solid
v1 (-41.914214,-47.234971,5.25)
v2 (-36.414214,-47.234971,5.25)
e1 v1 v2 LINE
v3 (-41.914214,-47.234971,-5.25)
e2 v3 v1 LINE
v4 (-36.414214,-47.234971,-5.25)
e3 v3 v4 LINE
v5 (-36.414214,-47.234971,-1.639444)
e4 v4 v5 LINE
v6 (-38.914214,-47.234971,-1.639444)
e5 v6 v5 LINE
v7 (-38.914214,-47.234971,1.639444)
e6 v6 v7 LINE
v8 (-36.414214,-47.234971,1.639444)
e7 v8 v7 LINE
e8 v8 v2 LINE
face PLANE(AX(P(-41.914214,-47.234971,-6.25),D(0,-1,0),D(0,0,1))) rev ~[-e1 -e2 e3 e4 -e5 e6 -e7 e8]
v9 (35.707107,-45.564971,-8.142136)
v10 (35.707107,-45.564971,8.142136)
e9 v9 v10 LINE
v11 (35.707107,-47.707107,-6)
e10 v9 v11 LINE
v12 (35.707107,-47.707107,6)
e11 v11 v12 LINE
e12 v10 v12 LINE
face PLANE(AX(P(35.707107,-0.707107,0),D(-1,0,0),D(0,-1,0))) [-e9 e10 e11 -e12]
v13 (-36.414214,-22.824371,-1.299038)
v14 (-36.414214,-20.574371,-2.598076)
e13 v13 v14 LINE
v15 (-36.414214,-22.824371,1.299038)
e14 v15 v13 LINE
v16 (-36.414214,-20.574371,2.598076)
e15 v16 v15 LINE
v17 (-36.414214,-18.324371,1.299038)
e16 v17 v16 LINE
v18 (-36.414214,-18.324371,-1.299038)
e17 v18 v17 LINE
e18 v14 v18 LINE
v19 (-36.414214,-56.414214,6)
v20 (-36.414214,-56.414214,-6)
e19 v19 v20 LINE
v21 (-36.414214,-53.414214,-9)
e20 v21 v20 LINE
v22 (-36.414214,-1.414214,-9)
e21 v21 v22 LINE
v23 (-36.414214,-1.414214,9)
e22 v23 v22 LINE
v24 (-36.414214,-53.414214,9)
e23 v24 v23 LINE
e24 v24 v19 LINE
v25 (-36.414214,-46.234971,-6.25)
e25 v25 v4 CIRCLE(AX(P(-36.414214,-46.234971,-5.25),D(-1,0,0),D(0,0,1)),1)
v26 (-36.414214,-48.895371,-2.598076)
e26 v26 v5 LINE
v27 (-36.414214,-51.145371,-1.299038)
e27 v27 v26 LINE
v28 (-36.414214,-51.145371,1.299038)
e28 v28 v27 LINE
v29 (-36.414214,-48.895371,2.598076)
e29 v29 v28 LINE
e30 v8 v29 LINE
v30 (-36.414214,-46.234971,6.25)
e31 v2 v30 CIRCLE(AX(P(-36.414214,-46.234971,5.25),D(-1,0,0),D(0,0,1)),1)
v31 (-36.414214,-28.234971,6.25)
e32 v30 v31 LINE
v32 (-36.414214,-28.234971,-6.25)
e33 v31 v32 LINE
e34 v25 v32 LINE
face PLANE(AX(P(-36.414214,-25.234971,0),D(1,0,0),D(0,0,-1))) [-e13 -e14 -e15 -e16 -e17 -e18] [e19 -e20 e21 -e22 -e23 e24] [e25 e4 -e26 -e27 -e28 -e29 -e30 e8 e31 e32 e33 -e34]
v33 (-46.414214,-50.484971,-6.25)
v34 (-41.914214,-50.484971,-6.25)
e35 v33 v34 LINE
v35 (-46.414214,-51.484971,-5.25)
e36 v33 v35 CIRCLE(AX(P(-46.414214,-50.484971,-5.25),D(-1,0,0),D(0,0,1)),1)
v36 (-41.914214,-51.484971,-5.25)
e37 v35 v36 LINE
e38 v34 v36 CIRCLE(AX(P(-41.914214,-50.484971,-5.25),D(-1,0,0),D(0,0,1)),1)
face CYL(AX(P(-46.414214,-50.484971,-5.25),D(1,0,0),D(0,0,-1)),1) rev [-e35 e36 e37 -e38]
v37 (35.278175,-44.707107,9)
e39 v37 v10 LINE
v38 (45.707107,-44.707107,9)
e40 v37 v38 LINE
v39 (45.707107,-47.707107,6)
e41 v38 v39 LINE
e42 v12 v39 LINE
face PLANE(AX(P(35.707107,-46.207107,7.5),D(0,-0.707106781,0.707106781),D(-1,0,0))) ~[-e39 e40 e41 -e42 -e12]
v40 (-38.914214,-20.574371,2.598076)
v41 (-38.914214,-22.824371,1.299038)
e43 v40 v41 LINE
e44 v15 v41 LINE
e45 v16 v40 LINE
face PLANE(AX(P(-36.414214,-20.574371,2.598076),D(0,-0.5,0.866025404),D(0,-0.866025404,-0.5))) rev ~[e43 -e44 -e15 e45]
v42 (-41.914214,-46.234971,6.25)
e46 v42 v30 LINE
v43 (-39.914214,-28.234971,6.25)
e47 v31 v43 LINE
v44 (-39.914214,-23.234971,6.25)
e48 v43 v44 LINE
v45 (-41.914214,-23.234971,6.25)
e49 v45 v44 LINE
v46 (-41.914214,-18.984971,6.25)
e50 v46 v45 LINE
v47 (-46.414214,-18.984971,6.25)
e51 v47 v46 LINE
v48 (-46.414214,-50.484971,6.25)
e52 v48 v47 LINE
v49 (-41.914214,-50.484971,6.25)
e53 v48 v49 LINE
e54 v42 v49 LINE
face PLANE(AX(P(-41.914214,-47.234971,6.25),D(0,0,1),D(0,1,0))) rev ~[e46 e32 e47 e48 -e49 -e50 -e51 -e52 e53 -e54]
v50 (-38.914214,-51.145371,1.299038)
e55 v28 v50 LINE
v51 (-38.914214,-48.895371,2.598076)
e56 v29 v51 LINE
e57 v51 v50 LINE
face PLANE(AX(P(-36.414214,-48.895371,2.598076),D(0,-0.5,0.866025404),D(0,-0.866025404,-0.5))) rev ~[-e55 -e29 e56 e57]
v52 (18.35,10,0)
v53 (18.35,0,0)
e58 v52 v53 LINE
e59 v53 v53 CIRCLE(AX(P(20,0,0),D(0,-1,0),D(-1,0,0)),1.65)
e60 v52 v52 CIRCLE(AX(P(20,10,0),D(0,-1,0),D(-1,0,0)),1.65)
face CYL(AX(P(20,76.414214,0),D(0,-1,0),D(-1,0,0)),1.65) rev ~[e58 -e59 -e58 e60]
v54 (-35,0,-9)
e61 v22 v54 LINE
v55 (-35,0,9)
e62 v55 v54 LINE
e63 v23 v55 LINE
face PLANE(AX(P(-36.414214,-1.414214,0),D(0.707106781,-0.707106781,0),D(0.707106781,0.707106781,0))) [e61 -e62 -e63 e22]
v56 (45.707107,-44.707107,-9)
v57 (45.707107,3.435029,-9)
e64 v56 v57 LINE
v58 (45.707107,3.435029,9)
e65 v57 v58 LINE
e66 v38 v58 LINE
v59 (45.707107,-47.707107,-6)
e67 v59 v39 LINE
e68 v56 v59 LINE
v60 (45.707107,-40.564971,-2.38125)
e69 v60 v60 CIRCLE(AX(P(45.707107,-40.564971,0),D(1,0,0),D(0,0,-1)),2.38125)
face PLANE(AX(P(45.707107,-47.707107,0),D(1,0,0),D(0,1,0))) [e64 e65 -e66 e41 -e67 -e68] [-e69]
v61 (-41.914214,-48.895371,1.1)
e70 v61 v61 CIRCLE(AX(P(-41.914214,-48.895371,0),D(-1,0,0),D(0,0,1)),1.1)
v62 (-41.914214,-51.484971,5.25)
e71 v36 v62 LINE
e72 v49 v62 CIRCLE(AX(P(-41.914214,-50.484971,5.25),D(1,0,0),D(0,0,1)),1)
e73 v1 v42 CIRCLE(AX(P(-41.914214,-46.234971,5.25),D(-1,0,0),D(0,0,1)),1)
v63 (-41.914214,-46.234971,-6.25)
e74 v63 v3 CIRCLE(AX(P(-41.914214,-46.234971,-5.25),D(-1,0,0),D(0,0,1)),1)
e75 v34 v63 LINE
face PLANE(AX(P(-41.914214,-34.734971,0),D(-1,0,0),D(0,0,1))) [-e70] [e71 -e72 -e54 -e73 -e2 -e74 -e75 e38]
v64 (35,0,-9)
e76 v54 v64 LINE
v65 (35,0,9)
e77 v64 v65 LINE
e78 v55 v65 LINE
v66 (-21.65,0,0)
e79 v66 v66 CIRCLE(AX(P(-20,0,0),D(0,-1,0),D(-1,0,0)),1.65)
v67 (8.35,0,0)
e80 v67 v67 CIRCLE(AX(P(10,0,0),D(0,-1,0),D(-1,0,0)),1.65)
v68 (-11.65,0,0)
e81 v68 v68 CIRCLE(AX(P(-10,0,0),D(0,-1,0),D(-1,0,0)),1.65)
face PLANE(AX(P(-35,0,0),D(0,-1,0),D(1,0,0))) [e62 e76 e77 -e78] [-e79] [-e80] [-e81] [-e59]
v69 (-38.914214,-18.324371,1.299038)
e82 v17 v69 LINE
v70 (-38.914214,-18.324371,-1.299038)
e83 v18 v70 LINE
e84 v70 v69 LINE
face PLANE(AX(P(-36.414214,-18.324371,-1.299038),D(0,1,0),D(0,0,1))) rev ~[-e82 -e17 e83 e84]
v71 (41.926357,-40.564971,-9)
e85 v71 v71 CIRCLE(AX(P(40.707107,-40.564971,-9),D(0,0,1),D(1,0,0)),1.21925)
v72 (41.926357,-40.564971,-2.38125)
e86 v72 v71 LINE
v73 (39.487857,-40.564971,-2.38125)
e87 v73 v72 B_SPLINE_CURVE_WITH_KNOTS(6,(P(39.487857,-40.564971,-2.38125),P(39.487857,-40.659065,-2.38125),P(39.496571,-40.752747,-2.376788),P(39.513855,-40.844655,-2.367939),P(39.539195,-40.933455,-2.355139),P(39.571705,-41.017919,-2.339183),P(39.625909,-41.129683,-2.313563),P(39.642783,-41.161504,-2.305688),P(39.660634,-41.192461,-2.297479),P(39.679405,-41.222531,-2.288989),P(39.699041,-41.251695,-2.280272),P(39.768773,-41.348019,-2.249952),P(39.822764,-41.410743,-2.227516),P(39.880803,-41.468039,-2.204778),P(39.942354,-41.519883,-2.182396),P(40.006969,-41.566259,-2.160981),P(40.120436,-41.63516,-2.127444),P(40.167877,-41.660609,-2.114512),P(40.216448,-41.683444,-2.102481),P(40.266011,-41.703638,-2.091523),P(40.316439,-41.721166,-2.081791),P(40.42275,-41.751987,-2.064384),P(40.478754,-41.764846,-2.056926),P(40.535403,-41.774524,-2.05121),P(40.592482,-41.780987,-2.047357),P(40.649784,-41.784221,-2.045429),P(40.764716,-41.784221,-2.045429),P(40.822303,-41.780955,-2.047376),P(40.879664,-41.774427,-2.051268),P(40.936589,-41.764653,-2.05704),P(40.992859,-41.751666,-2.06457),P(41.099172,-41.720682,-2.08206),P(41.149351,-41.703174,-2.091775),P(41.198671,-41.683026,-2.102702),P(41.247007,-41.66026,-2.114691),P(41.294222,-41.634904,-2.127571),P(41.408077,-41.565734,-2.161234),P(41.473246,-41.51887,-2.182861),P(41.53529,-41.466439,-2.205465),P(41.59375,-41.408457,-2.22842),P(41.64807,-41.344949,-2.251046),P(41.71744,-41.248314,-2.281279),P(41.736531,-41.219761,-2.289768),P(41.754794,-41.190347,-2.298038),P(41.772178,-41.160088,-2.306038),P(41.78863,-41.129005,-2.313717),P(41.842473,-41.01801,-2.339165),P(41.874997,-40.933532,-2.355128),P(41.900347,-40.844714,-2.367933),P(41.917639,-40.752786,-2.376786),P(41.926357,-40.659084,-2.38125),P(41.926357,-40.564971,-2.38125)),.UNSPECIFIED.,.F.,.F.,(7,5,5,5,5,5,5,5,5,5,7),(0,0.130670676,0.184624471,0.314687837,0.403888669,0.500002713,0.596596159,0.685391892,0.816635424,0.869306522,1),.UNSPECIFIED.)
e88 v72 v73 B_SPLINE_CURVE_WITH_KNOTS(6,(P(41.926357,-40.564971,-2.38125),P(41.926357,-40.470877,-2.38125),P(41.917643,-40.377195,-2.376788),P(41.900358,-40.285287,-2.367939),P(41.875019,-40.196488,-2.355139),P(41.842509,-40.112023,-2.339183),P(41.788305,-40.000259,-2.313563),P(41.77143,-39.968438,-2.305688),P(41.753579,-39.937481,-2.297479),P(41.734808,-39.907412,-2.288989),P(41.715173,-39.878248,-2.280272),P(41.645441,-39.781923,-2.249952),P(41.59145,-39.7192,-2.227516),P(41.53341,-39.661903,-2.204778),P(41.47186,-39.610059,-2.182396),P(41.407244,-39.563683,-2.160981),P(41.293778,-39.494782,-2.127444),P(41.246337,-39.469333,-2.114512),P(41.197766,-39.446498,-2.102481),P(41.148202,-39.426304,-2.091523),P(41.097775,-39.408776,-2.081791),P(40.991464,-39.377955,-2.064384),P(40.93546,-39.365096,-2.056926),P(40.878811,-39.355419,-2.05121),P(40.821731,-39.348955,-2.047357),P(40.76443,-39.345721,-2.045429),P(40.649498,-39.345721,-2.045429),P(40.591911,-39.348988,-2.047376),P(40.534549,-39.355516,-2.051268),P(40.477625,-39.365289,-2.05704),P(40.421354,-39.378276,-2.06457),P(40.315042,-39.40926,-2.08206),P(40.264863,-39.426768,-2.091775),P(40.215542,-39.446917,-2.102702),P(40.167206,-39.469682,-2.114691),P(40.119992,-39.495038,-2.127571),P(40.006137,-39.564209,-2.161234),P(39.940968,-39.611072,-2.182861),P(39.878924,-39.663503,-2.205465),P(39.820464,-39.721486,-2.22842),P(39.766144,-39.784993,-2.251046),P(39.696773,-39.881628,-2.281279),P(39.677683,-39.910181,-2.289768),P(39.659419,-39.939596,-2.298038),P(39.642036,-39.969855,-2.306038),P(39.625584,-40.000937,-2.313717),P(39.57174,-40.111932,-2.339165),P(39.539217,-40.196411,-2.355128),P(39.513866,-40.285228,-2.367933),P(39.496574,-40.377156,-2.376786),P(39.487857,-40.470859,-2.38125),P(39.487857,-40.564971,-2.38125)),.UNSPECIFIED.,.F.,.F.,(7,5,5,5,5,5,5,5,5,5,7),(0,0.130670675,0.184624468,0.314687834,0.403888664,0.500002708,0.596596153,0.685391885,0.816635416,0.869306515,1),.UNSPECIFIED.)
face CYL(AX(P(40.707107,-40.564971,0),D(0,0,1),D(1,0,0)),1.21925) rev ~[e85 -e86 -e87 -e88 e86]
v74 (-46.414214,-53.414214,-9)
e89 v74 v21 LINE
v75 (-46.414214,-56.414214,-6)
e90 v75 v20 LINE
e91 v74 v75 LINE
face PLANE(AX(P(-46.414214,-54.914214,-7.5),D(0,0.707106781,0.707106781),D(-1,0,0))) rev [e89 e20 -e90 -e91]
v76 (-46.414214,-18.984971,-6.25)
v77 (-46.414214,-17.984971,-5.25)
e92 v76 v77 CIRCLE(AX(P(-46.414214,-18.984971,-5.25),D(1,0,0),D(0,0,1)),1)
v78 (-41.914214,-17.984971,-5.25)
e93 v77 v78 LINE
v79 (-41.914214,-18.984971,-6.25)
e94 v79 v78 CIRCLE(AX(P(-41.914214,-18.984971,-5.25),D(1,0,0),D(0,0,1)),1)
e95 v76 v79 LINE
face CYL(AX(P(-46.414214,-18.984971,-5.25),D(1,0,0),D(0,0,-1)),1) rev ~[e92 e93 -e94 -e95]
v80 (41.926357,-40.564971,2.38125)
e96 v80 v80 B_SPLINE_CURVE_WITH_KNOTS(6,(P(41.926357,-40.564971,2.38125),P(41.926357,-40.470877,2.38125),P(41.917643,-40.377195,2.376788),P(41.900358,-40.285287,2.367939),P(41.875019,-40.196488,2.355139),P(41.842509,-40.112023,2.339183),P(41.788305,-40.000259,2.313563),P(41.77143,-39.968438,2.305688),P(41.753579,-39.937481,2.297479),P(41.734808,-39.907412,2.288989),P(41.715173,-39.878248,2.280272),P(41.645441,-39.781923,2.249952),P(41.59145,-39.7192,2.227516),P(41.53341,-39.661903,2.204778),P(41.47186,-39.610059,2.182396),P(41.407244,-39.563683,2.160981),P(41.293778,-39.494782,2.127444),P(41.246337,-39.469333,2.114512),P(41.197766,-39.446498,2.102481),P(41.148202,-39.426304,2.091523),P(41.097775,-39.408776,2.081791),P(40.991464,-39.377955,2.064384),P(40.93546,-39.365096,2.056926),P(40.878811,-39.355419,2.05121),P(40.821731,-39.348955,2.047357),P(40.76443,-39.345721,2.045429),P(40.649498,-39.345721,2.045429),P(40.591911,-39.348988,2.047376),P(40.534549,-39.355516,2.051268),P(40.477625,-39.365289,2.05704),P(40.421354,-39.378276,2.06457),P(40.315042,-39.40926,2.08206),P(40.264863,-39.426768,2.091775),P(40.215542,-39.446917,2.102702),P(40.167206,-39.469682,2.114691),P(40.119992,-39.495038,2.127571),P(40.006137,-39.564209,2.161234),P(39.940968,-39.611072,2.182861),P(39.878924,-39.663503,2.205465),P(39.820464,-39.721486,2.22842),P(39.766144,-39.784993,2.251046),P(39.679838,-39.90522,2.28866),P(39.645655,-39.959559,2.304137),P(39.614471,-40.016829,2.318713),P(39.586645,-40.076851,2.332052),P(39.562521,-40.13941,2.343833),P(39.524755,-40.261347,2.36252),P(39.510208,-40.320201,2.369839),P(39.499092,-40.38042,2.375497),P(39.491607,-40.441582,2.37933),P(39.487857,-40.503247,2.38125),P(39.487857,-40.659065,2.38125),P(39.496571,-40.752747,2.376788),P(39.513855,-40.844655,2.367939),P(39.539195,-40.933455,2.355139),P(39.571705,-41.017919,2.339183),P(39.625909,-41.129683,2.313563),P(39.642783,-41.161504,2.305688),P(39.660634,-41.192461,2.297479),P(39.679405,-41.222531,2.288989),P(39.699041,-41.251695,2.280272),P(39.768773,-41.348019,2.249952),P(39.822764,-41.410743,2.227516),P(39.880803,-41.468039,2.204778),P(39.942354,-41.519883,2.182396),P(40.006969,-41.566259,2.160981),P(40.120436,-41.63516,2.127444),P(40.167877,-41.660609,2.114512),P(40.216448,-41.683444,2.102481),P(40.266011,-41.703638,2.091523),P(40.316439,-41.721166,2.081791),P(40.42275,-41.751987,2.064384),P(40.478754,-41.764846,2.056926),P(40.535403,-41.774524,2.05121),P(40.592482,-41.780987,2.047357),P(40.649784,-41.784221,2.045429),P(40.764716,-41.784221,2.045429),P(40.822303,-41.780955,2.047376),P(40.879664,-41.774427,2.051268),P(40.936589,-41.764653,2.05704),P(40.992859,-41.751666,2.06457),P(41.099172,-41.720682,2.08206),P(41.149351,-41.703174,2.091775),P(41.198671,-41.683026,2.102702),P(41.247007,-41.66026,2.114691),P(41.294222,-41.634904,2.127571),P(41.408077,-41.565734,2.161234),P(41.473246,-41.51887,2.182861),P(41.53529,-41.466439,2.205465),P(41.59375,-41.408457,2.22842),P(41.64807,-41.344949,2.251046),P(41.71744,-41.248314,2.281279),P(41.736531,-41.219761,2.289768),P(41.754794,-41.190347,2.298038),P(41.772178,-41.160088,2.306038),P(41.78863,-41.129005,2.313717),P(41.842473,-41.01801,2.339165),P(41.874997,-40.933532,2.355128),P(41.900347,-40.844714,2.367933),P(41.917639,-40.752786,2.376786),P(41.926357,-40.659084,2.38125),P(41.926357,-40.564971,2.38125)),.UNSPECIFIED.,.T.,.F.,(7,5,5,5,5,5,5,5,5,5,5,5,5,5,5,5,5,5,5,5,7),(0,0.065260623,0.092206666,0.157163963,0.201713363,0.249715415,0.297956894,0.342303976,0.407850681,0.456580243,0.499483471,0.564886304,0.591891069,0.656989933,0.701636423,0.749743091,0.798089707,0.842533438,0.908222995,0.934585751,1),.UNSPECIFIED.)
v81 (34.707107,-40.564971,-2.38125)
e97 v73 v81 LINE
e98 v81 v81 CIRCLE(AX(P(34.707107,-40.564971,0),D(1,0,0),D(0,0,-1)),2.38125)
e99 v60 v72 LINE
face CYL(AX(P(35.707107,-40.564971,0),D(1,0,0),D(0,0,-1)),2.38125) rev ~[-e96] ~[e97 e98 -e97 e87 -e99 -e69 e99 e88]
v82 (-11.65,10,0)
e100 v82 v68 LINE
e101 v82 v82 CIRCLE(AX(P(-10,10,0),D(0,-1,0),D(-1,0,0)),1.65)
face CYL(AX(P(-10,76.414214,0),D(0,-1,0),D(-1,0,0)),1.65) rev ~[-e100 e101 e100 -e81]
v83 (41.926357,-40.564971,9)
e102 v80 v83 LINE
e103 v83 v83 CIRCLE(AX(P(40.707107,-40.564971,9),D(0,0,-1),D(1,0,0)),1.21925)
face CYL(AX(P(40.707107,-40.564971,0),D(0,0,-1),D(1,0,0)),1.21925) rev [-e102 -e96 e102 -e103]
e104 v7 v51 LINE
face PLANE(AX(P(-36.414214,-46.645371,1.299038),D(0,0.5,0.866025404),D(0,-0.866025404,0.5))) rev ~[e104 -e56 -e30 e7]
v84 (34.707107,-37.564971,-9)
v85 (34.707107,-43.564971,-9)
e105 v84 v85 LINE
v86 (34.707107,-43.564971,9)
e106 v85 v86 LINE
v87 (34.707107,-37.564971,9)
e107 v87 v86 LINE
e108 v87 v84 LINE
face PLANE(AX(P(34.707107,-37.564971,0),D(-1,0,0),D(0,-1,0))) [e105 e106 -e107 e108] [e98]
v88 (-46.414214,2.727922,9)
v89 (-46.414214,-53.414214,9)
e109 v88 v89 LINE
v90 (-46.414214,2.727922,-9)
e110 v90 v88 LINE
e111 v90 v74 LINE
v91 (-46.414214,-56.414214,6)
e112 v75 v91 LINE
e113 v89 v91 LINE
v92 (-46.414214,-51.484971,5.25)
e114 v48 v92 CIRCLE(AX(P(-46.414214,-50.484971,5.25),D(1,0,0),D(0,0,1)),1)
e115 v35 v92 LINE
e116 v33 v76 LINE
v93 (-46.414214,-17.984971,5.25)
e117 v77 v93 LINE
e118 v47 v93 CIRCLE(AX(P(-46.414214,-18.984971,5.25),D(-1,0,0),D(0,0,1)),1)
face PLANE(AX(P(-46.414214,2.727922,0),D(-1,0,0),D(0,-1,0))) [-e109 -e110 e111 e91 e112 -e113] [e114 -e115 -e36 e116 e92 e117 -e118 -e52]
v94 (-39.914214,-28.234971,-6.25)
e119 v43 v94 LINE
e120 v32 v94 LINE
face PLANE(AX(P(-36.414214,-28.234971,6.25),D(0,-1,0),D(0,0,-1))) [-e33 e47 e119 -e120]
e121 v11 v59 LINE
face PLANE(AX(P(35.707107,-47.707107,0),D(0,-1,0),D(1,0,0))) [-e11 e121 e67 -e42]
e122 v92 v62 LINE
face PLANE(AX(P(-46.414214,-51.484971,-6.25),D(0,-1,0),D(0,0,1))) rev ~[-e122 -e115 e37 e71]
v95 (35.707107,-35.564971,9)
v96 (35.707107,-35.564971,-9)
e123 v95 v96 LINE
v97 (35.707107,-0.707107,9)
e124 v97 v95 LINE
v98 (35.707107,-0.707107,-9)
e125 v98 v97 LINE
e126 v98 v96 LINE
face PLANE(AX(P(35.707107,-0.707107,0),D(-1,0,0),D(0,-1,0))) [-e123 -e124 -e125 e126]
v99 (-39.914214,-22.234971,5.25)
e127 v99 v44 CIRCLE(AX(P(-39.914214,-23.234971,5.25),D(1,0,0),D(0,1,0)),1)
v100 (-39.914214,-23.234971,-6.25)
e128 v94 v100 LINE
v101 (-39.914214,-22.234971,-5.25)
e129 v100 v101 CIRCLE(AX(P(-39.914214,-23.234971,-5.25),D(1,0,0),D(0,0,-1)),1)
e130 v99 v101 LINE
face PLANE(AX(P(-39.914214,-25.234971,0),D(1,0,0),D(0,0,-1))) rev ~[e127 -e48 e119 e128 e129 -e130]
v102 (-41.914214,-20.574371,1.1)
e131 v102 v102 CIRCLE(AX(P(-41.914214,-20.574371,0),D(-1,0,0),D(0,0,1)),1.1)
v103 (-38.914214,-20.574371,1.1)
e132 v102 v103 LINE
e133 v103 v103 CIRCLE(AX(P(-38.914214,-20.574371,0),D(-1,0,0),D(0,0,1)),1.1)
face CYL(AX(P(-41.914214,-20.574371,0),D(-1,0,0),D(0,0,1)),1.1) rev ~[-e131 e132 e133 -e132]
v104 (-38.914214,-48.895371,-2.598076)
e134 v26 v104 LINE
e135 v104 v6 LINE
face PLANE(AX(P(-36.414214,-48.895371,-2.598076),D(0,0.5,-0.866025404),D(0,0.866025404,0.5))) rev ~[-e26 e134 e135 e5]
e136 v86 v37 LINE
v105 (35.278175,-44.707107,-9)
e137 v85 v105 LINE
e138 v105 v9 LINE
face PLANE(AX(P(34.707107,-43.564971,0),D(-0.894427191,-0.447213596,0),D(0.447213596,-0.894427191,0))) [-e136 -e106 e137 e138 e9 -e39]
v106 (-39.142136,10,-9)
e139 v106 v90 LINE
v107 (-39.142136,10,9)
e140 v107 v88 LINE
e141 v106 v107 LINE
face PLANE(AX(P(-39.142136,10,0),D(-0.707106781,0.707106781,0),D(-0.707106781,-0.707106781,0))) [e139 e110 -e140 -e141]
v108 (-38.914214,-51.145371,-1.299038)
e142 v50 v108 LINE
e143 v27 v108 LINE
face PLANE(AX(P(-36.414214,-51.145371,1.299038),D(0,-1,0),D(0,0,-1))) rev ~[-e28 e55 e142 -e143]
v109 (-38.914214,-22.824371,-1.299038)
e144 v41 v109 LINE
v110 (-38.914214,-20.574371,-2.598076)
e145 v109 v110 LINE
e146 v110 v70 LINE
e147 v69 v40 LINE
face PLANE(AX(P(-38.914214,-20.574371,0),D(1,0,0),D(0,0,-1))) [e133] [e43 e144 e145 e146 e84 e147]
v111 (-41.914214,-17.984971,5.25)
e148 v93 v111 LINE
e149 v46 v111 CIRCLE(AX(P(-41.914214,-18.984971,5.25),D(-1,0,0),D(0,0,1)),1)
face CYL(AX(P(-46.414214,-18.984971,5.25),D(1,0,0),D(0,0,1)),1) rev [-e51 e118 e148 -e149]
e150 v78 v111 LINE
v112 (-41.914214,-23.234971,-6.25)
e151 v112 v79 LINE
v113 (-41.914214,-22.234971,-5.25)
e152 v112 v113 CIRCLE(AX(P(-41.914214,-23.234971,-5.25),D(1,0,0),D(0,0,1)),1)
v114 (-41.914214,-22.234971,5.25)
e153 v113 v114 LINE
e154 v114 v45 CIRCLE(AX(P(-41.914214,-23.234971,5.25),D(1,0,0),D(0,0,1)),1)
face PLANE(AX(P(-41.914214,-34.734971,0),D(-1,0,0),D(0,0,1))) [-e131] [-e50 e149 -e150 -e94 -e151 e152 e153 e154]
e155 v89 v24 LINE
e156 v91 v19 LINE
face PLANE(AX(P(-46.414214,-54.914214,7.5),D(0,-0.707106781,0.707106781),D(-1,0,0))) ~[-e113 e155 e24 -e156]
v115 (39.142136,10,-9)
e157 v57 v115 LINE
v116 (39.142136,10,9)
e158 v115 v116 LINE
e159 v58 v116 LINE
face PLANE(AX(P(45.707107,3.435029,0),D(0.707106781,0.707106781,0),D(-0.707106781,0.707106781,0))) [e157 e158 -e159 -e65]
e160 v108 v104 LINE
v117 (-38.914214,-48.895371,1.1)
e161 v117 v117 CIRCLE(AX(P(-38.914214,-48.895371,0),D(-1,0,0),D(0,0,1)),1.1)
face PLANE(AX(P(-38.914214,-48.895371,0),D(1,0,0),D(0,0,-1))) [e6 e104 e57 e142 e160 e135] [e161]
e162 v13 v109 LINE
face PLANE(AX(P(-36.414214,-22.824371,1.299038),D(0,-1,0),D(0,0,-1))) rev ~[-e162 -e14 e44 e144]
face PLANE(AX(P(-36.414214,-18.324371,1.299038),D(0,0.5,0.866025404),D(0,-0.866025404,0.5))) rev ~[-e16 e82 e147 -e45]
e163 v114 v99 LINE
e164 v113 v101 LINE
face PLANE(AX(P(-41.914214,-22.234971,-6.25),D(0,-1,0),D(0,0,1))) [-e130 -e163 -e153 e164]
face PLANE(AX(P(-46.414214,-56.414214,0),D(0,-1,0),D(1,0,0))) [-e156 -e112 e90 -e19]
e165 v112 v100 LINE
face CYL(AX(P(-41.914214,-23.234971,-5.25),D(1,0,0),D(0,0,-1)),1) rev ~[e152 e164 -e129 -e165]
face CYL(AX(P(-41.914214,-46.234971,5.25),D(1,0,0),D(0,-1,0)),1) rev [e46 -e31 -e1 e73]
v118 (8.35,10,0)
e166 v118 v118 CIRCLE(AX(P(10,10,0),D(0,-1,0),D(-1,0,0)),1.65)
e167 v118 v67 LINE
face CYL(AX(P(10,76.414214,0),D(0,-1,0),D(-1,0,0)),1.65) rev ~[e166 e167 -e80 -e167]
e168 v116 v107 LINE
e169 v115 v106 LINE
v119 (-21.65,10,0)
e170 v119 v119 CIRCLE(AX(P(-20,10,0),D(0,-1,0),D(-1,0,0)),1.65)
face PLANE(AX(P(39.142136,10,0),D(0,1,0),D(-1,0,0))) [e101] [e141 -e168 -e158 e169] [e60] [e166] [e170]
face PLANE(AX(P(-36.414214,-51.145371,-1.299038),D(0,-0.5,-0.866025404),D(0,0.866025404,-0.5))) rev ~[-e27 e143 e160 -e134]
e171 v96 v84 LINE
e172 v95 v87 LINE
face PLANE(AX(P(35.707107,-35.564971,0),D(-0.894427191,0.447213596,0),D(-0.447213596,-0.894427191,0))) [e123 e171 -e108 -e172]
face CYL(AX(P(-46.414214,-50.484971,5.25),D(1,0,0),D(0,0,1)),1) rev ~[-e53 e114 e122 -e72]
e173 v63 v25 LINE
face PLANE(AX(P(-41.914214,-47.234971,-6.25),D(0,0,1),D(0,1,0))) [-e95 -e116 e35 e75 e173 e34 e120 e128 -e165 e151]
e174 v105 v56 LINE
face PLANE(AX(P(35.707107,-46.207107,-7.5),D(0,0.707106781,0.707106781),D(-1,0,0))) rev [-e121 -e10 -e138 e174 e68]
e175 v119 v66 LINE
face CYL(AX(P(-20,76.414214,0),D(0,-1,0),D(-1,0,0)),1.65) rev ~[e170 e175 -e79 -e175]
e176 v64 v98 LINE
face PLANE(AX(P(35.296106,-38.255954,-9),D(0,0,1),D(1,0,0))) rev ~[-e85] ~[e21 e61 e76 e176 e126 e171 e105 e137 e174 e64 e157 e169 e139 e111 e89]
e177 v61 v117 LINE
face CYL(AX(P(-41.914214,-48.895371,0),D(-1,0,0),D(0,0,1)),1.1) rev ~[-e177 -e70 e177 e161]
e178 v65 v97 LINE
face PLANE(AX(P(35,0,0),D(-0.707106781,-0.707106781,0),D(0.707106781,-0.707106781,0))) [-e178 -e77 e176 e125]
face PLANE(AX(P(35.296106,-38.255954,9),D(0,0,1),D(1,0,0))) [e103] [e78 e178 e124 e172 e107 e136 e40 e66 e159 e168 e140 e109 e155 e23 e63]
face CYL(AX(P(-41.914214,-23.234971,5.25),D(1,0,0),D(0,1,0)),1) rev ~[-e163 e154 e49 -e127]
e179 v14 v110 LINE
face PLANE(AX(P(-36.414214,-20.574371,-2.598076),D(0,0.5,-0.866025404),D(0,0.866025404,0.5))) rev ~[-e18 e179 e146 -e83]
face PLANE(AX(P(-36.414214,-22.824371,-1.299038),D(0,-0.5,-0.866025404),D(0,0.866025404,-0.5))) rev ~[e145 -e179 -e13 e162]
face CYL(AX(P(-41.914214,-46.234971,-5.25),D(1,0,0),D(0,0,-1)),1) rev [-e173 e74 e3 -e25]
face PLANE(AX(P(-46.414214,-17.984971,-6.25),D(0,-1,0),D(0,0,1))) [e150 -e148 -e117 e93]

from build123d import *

# Parameters (mm, degrees)
BOSS_EXTRUDE1_DEPTH             = 9
SKETCH2_R                       = 0.5
CUT_EXTRUDE1_DEPTH              = 67.414213562
SKETCH9_R                       = 2.38125
PIN_HOLE_DEPTH                  = 93.121320344
SKETCH20_R                      = 1.21925
SPRING_PIN_DEPTH                = 10
SPRING_PIN_DEPTH_BACK           = 10
SKETCH32_W                      = 12.5
SKETCH32_H                      = 33.5
CUT_EXTRUDE11_DEPTH             = 4.5
CUT_EXTRUDE12_REACH             = 89.621
SKETCH33_W                      = 12.5
SKETCH33_H                      = 25
CUT_EXTRUDE13_REACH             = 89.621
SKETCH34_R                      = 1.1
FILLET1_R                       = 1
TAP_DRILL_FOR_M4X0_7_TAP1_D     = 3.3
TAP_DRILL_FOR_M4X0_7_TAP1_DEPTH = 66.414213562
SKETCH41_W                      = 12.5
SKETCH41_H                      = 6
BOSS_EXTRUDE4_DEPTH             = 3.5
CUT_EXTRUDE14_DEPTH             = 2.5
BOSS_EXTRUDE6_DEPTH             = 9
CHAMFER1_SIZE                   = 3
CUT_EXTRUDE15_REACH             = 84.121
SKETCH45_R                      = 2.38125


with BuildPart() as part:
    # Sketch1 → Boss-Extrude1 (new body, symmetric)
    with BuildSketch(Plane.XY):
        Polygon((-35, 0), (35, 0), (35.707106781, -0.707106781), (35.707106781, -47.707106781), (45.707106781, -47.707106781), (45.707106781, 3.435028843), (39.142135624, 10), (-39.142135624, 10), (-46.414213562, 2.727922061), (-46.414213562, -56.414213562), (-36.414213562, -56.414213562), (-36.414213562, -1.414213562), align=None)
    extrude(amount=BOSS_EXTRUDE1_DEPTH, both=True)

    # Sketch2 → Cut-Extrude1 (cut, through all)
    with BuildSketch(Plane(origin=(0, 10, 0), x_dir=(1, 0, 0), z_dir=(0, 1, 0))):
        with Locations((-10, 0)):
            Circle(SKETCH2_R)
        with Locations((10, 0)):
            Circle(SKETCH2_R)
        with Locations((-20, 0)):
            Circle(SKETCH2_R)
        with Locations((20, 0)):
            Circle(SKETCH2_R)
    extrude(amount=-CUT_EXTRUDE1_DEPTH, mode=Mode.SUBTRACT)

    # Sketch9 → Pin Hole (cut, through all)
    with BuildSketch(Plane(origin=(45.707106781, 0, 0), x_dir=(0, 0, -1), z_dir=(1, 0, 0))):
        with Locations((0, -40.564971157)):
            Circle(SKETCH9_R)
    extrude(amount=-PIN_HOLE_DEPTH, mode=Mode.SUBTRACT)

    # Sketch20 → spring pin (cut, two sides)
    with BuildSketch(Plane.XY) as spring_pin_sk:
        with Locations((40.707106781, -40.564971157)):
            Circle(SKETCH20_R)
    extrude(amount=SPRING_PIN_DEPTH, mode=Mode.SUBTRACT)
    extrude(spring_pin_sk.sketch, amount=-SPRING_PIN_DEPTH_BACK, mode=Mode.SUBTRACT)

    # Sketch32 → Cut-Extrude11 (cut)
    with BuildSketch(Plane.ZY.offset(46.414213562)):
        with Locations((0, -34.734971157)):
            Rectangle(SKETCH32_W, SKETCH32_H)
    extrude(amount=-CUT_EXTRUDE11_DEPTH, mode=Mode.SUBTRACT)

    # Sketch33 → Cut-Extrude12 (cut, up to next)
    with BuildSketch(Plane.ZY.offset(41.914213562), mode=Mode.PRIVATE) as cut_extrude12_sk1:
        with Locations((0, -34.734971157)):
            Rectangle(SKETCH33_W, SKETCH33_H)
    cut_extrude12_tool1 = extrude(cut_extrude12_sk1.sketch, amount=-CUT_EXTRUDE12_REACH, mode=Mode.PRIVATE) & part.part
    add(cut_extrude12_tool1.solids().sort_by_distance((-41.914214, -34.734971, 0))[0], mode=Mode.SUBTRACT)

    # Sketch34 → Cut-Extrude13 (cut, up to next)
    with BuildSketch(Plane.ZY.offset(41.914213562), mode=Mode.PRIVATE) as cut_extrude13_sk1:
        with Locations((0, -20.574371157)):
            Circle(SKETCH34_R)
    cut_extrude13_tool1 = extrude(cut_extrude13_sk1.sketch, amount=-CUT_EXTRUDE13_REACH, mode=Mode.PRIVATE) & part.part
    add(cut_extrude13_tool1.solids().sort_by_distance((-41.914214, -20.574371, 0))[0], mode=Mode.SUBTRACT)
    # Sketch34 → Cut-Extrude13 (cut, up to next)
    with BuildSketch(Plane.ZY.offset(41.914213562), mode=Mode.PRIVATE) as cut_extrude13_sk2:
        with Locations((0, -48.895371157)):
            Circle(SKETCH34_R)
    cut_extrude13_tool2 = extrude(cut_extrude13_sk2.sketch, amount=-CUT_EXTRUDE13_REACH, mode=Mode.PRIVATE) & part.part
    add(cut_extrude13_tool2.solids().sort_by_distance((-41.914214, -48.895371, 0))[0], mode=Mode.SUBTRACT)

    # Fillet1
    fillet1_edges = [part.edges().sort_by_distance(p)[0] for p in [
        (-44.164213562, -17.984971157, 6.25),
        (-44.164213562, -51.484971157, 6.25),
        (-44.164213562, -51.484971157, -6.25),
        (-44.164213562, -17.984971157, -6.25),
        (-39.164213562, -22.234971157, -6.25),
        (-39.164213562, -47.234971157, -6.25),
        (-39.164213562, -47.234971157, 6.25),
        (-39.164213562, -22.234971157, 6.25),
    ]]
    fillet(fillet1_edges, radius=FILLET1_R)

    # Tap Drill for M4x0.7 Tap1
    with Locations(Plane(origin=(0, 10, 0), x_dir=(1, 0, 0), z_dir=(0, 1, 0))):
        with Locations((-20, 0), (20, 0), (-10, 0), (10, 0)):
            Hole(TAP_DRILL_FOR_M4X0_7_TAP1_D / 2, depth=TAP_DRILL_FOR_M4X0_7_TAP1_DEPTH)

    # Sketch41 → Boss-Extrude4 (add)
    with BuildSketch(Plane(origin=(-36.414213562, 0, 0), x_dir=(0, 0, -1), z_dir=(1, 0, 0))):
        with Locations((0, -25.234971157)):
            Rectangle(SKETCH41_W, SKETCH41_H)
    extrude(amount=-BOSS_EXTRUDE4_DEPTH)

    # Sketch43 → Cut-Extrude14 (cut)
    with BuildSketch(Plane(origin=(-36.414213562, 0, 0), x_dir=(0, 0, -1), z_dir=(1, 0, 0))):
        Polygon((-1.299038106, -22.824371157), (1.299038106, -22.824371157), (2.598076211, -20.574371157), (1.299038106, -18.324371157), (-1.299038106, -18.324371157), (-2.598076211, -20.574371157), align=None)
        Polygon((-1.299038106, -46.645371157), (-2.598076211, -48.895371157), (-1.299038106, -51.145371157), (1.299038106, -51.145371157), (2.598076211, -48.895371157), (1.299038106, -46.645371157), align=None)
    extrude(amount=-CUT_EXTRUDE14_DEPTH, mode=Mode.SUBTRACT)

    # Sketch44 → Boss-Extrude6 (add, symmetric)
    with BuildSketch(Plane.XY):
        Polygon((34.707106781, -37.564971157), (34.707106781, -40.564971157), (35.707106781, -40.564971157), (35.707106781, -35.564971157), align=None)
        Polygon((34.707106781, -40.564971157), (34.707106781, -43.564971157), (35.707106781, -45.564971157), (35.707106781, -40.564971157), align=None)
    extrude(amount=BOSS_EXTRUDE6_DEPTH, both=True)

    # Chamfer1
    chamfer1_edges = [part.edges().sort_by_distance(p)[0] for p in [
        (40.707106781, -47.707106781, -9),
        (40.707106781, -47.707106781, 9),
        (-41.414213562, -56.414213562, -9),
        (-41.414213562, -56.414213562, 9),
    ]]
    chamfer(chamfer1_edges, length=CHAMFER1_SIZE)

    # Sketch45 → Cut-Extrude15 (cut, up to next)
    with BuildSketch(Plane(origin=(35.707106781, 0, 0), x_dir=(0, 0, -1), z_dir=(1, 0, 0)), mode=Mode.PRIVATE) as cut_extrude15_sk1:
        with Locations((0, -40.564971157)):
            Circle(SKETCH45_R)
    cut_extrude15_tool1 = extrude(cut_extrude15_sk1.sketch, amount=-CUT_EXTRUDE15_REACH, mode=Mode.PRIVATE) & part.part
    add(cut_extrude15_tool1.solids().sort_by_distance((35.707107, -40.564971, 0))[0], mode=Mode.SUBTRACT)


solid = part.part
